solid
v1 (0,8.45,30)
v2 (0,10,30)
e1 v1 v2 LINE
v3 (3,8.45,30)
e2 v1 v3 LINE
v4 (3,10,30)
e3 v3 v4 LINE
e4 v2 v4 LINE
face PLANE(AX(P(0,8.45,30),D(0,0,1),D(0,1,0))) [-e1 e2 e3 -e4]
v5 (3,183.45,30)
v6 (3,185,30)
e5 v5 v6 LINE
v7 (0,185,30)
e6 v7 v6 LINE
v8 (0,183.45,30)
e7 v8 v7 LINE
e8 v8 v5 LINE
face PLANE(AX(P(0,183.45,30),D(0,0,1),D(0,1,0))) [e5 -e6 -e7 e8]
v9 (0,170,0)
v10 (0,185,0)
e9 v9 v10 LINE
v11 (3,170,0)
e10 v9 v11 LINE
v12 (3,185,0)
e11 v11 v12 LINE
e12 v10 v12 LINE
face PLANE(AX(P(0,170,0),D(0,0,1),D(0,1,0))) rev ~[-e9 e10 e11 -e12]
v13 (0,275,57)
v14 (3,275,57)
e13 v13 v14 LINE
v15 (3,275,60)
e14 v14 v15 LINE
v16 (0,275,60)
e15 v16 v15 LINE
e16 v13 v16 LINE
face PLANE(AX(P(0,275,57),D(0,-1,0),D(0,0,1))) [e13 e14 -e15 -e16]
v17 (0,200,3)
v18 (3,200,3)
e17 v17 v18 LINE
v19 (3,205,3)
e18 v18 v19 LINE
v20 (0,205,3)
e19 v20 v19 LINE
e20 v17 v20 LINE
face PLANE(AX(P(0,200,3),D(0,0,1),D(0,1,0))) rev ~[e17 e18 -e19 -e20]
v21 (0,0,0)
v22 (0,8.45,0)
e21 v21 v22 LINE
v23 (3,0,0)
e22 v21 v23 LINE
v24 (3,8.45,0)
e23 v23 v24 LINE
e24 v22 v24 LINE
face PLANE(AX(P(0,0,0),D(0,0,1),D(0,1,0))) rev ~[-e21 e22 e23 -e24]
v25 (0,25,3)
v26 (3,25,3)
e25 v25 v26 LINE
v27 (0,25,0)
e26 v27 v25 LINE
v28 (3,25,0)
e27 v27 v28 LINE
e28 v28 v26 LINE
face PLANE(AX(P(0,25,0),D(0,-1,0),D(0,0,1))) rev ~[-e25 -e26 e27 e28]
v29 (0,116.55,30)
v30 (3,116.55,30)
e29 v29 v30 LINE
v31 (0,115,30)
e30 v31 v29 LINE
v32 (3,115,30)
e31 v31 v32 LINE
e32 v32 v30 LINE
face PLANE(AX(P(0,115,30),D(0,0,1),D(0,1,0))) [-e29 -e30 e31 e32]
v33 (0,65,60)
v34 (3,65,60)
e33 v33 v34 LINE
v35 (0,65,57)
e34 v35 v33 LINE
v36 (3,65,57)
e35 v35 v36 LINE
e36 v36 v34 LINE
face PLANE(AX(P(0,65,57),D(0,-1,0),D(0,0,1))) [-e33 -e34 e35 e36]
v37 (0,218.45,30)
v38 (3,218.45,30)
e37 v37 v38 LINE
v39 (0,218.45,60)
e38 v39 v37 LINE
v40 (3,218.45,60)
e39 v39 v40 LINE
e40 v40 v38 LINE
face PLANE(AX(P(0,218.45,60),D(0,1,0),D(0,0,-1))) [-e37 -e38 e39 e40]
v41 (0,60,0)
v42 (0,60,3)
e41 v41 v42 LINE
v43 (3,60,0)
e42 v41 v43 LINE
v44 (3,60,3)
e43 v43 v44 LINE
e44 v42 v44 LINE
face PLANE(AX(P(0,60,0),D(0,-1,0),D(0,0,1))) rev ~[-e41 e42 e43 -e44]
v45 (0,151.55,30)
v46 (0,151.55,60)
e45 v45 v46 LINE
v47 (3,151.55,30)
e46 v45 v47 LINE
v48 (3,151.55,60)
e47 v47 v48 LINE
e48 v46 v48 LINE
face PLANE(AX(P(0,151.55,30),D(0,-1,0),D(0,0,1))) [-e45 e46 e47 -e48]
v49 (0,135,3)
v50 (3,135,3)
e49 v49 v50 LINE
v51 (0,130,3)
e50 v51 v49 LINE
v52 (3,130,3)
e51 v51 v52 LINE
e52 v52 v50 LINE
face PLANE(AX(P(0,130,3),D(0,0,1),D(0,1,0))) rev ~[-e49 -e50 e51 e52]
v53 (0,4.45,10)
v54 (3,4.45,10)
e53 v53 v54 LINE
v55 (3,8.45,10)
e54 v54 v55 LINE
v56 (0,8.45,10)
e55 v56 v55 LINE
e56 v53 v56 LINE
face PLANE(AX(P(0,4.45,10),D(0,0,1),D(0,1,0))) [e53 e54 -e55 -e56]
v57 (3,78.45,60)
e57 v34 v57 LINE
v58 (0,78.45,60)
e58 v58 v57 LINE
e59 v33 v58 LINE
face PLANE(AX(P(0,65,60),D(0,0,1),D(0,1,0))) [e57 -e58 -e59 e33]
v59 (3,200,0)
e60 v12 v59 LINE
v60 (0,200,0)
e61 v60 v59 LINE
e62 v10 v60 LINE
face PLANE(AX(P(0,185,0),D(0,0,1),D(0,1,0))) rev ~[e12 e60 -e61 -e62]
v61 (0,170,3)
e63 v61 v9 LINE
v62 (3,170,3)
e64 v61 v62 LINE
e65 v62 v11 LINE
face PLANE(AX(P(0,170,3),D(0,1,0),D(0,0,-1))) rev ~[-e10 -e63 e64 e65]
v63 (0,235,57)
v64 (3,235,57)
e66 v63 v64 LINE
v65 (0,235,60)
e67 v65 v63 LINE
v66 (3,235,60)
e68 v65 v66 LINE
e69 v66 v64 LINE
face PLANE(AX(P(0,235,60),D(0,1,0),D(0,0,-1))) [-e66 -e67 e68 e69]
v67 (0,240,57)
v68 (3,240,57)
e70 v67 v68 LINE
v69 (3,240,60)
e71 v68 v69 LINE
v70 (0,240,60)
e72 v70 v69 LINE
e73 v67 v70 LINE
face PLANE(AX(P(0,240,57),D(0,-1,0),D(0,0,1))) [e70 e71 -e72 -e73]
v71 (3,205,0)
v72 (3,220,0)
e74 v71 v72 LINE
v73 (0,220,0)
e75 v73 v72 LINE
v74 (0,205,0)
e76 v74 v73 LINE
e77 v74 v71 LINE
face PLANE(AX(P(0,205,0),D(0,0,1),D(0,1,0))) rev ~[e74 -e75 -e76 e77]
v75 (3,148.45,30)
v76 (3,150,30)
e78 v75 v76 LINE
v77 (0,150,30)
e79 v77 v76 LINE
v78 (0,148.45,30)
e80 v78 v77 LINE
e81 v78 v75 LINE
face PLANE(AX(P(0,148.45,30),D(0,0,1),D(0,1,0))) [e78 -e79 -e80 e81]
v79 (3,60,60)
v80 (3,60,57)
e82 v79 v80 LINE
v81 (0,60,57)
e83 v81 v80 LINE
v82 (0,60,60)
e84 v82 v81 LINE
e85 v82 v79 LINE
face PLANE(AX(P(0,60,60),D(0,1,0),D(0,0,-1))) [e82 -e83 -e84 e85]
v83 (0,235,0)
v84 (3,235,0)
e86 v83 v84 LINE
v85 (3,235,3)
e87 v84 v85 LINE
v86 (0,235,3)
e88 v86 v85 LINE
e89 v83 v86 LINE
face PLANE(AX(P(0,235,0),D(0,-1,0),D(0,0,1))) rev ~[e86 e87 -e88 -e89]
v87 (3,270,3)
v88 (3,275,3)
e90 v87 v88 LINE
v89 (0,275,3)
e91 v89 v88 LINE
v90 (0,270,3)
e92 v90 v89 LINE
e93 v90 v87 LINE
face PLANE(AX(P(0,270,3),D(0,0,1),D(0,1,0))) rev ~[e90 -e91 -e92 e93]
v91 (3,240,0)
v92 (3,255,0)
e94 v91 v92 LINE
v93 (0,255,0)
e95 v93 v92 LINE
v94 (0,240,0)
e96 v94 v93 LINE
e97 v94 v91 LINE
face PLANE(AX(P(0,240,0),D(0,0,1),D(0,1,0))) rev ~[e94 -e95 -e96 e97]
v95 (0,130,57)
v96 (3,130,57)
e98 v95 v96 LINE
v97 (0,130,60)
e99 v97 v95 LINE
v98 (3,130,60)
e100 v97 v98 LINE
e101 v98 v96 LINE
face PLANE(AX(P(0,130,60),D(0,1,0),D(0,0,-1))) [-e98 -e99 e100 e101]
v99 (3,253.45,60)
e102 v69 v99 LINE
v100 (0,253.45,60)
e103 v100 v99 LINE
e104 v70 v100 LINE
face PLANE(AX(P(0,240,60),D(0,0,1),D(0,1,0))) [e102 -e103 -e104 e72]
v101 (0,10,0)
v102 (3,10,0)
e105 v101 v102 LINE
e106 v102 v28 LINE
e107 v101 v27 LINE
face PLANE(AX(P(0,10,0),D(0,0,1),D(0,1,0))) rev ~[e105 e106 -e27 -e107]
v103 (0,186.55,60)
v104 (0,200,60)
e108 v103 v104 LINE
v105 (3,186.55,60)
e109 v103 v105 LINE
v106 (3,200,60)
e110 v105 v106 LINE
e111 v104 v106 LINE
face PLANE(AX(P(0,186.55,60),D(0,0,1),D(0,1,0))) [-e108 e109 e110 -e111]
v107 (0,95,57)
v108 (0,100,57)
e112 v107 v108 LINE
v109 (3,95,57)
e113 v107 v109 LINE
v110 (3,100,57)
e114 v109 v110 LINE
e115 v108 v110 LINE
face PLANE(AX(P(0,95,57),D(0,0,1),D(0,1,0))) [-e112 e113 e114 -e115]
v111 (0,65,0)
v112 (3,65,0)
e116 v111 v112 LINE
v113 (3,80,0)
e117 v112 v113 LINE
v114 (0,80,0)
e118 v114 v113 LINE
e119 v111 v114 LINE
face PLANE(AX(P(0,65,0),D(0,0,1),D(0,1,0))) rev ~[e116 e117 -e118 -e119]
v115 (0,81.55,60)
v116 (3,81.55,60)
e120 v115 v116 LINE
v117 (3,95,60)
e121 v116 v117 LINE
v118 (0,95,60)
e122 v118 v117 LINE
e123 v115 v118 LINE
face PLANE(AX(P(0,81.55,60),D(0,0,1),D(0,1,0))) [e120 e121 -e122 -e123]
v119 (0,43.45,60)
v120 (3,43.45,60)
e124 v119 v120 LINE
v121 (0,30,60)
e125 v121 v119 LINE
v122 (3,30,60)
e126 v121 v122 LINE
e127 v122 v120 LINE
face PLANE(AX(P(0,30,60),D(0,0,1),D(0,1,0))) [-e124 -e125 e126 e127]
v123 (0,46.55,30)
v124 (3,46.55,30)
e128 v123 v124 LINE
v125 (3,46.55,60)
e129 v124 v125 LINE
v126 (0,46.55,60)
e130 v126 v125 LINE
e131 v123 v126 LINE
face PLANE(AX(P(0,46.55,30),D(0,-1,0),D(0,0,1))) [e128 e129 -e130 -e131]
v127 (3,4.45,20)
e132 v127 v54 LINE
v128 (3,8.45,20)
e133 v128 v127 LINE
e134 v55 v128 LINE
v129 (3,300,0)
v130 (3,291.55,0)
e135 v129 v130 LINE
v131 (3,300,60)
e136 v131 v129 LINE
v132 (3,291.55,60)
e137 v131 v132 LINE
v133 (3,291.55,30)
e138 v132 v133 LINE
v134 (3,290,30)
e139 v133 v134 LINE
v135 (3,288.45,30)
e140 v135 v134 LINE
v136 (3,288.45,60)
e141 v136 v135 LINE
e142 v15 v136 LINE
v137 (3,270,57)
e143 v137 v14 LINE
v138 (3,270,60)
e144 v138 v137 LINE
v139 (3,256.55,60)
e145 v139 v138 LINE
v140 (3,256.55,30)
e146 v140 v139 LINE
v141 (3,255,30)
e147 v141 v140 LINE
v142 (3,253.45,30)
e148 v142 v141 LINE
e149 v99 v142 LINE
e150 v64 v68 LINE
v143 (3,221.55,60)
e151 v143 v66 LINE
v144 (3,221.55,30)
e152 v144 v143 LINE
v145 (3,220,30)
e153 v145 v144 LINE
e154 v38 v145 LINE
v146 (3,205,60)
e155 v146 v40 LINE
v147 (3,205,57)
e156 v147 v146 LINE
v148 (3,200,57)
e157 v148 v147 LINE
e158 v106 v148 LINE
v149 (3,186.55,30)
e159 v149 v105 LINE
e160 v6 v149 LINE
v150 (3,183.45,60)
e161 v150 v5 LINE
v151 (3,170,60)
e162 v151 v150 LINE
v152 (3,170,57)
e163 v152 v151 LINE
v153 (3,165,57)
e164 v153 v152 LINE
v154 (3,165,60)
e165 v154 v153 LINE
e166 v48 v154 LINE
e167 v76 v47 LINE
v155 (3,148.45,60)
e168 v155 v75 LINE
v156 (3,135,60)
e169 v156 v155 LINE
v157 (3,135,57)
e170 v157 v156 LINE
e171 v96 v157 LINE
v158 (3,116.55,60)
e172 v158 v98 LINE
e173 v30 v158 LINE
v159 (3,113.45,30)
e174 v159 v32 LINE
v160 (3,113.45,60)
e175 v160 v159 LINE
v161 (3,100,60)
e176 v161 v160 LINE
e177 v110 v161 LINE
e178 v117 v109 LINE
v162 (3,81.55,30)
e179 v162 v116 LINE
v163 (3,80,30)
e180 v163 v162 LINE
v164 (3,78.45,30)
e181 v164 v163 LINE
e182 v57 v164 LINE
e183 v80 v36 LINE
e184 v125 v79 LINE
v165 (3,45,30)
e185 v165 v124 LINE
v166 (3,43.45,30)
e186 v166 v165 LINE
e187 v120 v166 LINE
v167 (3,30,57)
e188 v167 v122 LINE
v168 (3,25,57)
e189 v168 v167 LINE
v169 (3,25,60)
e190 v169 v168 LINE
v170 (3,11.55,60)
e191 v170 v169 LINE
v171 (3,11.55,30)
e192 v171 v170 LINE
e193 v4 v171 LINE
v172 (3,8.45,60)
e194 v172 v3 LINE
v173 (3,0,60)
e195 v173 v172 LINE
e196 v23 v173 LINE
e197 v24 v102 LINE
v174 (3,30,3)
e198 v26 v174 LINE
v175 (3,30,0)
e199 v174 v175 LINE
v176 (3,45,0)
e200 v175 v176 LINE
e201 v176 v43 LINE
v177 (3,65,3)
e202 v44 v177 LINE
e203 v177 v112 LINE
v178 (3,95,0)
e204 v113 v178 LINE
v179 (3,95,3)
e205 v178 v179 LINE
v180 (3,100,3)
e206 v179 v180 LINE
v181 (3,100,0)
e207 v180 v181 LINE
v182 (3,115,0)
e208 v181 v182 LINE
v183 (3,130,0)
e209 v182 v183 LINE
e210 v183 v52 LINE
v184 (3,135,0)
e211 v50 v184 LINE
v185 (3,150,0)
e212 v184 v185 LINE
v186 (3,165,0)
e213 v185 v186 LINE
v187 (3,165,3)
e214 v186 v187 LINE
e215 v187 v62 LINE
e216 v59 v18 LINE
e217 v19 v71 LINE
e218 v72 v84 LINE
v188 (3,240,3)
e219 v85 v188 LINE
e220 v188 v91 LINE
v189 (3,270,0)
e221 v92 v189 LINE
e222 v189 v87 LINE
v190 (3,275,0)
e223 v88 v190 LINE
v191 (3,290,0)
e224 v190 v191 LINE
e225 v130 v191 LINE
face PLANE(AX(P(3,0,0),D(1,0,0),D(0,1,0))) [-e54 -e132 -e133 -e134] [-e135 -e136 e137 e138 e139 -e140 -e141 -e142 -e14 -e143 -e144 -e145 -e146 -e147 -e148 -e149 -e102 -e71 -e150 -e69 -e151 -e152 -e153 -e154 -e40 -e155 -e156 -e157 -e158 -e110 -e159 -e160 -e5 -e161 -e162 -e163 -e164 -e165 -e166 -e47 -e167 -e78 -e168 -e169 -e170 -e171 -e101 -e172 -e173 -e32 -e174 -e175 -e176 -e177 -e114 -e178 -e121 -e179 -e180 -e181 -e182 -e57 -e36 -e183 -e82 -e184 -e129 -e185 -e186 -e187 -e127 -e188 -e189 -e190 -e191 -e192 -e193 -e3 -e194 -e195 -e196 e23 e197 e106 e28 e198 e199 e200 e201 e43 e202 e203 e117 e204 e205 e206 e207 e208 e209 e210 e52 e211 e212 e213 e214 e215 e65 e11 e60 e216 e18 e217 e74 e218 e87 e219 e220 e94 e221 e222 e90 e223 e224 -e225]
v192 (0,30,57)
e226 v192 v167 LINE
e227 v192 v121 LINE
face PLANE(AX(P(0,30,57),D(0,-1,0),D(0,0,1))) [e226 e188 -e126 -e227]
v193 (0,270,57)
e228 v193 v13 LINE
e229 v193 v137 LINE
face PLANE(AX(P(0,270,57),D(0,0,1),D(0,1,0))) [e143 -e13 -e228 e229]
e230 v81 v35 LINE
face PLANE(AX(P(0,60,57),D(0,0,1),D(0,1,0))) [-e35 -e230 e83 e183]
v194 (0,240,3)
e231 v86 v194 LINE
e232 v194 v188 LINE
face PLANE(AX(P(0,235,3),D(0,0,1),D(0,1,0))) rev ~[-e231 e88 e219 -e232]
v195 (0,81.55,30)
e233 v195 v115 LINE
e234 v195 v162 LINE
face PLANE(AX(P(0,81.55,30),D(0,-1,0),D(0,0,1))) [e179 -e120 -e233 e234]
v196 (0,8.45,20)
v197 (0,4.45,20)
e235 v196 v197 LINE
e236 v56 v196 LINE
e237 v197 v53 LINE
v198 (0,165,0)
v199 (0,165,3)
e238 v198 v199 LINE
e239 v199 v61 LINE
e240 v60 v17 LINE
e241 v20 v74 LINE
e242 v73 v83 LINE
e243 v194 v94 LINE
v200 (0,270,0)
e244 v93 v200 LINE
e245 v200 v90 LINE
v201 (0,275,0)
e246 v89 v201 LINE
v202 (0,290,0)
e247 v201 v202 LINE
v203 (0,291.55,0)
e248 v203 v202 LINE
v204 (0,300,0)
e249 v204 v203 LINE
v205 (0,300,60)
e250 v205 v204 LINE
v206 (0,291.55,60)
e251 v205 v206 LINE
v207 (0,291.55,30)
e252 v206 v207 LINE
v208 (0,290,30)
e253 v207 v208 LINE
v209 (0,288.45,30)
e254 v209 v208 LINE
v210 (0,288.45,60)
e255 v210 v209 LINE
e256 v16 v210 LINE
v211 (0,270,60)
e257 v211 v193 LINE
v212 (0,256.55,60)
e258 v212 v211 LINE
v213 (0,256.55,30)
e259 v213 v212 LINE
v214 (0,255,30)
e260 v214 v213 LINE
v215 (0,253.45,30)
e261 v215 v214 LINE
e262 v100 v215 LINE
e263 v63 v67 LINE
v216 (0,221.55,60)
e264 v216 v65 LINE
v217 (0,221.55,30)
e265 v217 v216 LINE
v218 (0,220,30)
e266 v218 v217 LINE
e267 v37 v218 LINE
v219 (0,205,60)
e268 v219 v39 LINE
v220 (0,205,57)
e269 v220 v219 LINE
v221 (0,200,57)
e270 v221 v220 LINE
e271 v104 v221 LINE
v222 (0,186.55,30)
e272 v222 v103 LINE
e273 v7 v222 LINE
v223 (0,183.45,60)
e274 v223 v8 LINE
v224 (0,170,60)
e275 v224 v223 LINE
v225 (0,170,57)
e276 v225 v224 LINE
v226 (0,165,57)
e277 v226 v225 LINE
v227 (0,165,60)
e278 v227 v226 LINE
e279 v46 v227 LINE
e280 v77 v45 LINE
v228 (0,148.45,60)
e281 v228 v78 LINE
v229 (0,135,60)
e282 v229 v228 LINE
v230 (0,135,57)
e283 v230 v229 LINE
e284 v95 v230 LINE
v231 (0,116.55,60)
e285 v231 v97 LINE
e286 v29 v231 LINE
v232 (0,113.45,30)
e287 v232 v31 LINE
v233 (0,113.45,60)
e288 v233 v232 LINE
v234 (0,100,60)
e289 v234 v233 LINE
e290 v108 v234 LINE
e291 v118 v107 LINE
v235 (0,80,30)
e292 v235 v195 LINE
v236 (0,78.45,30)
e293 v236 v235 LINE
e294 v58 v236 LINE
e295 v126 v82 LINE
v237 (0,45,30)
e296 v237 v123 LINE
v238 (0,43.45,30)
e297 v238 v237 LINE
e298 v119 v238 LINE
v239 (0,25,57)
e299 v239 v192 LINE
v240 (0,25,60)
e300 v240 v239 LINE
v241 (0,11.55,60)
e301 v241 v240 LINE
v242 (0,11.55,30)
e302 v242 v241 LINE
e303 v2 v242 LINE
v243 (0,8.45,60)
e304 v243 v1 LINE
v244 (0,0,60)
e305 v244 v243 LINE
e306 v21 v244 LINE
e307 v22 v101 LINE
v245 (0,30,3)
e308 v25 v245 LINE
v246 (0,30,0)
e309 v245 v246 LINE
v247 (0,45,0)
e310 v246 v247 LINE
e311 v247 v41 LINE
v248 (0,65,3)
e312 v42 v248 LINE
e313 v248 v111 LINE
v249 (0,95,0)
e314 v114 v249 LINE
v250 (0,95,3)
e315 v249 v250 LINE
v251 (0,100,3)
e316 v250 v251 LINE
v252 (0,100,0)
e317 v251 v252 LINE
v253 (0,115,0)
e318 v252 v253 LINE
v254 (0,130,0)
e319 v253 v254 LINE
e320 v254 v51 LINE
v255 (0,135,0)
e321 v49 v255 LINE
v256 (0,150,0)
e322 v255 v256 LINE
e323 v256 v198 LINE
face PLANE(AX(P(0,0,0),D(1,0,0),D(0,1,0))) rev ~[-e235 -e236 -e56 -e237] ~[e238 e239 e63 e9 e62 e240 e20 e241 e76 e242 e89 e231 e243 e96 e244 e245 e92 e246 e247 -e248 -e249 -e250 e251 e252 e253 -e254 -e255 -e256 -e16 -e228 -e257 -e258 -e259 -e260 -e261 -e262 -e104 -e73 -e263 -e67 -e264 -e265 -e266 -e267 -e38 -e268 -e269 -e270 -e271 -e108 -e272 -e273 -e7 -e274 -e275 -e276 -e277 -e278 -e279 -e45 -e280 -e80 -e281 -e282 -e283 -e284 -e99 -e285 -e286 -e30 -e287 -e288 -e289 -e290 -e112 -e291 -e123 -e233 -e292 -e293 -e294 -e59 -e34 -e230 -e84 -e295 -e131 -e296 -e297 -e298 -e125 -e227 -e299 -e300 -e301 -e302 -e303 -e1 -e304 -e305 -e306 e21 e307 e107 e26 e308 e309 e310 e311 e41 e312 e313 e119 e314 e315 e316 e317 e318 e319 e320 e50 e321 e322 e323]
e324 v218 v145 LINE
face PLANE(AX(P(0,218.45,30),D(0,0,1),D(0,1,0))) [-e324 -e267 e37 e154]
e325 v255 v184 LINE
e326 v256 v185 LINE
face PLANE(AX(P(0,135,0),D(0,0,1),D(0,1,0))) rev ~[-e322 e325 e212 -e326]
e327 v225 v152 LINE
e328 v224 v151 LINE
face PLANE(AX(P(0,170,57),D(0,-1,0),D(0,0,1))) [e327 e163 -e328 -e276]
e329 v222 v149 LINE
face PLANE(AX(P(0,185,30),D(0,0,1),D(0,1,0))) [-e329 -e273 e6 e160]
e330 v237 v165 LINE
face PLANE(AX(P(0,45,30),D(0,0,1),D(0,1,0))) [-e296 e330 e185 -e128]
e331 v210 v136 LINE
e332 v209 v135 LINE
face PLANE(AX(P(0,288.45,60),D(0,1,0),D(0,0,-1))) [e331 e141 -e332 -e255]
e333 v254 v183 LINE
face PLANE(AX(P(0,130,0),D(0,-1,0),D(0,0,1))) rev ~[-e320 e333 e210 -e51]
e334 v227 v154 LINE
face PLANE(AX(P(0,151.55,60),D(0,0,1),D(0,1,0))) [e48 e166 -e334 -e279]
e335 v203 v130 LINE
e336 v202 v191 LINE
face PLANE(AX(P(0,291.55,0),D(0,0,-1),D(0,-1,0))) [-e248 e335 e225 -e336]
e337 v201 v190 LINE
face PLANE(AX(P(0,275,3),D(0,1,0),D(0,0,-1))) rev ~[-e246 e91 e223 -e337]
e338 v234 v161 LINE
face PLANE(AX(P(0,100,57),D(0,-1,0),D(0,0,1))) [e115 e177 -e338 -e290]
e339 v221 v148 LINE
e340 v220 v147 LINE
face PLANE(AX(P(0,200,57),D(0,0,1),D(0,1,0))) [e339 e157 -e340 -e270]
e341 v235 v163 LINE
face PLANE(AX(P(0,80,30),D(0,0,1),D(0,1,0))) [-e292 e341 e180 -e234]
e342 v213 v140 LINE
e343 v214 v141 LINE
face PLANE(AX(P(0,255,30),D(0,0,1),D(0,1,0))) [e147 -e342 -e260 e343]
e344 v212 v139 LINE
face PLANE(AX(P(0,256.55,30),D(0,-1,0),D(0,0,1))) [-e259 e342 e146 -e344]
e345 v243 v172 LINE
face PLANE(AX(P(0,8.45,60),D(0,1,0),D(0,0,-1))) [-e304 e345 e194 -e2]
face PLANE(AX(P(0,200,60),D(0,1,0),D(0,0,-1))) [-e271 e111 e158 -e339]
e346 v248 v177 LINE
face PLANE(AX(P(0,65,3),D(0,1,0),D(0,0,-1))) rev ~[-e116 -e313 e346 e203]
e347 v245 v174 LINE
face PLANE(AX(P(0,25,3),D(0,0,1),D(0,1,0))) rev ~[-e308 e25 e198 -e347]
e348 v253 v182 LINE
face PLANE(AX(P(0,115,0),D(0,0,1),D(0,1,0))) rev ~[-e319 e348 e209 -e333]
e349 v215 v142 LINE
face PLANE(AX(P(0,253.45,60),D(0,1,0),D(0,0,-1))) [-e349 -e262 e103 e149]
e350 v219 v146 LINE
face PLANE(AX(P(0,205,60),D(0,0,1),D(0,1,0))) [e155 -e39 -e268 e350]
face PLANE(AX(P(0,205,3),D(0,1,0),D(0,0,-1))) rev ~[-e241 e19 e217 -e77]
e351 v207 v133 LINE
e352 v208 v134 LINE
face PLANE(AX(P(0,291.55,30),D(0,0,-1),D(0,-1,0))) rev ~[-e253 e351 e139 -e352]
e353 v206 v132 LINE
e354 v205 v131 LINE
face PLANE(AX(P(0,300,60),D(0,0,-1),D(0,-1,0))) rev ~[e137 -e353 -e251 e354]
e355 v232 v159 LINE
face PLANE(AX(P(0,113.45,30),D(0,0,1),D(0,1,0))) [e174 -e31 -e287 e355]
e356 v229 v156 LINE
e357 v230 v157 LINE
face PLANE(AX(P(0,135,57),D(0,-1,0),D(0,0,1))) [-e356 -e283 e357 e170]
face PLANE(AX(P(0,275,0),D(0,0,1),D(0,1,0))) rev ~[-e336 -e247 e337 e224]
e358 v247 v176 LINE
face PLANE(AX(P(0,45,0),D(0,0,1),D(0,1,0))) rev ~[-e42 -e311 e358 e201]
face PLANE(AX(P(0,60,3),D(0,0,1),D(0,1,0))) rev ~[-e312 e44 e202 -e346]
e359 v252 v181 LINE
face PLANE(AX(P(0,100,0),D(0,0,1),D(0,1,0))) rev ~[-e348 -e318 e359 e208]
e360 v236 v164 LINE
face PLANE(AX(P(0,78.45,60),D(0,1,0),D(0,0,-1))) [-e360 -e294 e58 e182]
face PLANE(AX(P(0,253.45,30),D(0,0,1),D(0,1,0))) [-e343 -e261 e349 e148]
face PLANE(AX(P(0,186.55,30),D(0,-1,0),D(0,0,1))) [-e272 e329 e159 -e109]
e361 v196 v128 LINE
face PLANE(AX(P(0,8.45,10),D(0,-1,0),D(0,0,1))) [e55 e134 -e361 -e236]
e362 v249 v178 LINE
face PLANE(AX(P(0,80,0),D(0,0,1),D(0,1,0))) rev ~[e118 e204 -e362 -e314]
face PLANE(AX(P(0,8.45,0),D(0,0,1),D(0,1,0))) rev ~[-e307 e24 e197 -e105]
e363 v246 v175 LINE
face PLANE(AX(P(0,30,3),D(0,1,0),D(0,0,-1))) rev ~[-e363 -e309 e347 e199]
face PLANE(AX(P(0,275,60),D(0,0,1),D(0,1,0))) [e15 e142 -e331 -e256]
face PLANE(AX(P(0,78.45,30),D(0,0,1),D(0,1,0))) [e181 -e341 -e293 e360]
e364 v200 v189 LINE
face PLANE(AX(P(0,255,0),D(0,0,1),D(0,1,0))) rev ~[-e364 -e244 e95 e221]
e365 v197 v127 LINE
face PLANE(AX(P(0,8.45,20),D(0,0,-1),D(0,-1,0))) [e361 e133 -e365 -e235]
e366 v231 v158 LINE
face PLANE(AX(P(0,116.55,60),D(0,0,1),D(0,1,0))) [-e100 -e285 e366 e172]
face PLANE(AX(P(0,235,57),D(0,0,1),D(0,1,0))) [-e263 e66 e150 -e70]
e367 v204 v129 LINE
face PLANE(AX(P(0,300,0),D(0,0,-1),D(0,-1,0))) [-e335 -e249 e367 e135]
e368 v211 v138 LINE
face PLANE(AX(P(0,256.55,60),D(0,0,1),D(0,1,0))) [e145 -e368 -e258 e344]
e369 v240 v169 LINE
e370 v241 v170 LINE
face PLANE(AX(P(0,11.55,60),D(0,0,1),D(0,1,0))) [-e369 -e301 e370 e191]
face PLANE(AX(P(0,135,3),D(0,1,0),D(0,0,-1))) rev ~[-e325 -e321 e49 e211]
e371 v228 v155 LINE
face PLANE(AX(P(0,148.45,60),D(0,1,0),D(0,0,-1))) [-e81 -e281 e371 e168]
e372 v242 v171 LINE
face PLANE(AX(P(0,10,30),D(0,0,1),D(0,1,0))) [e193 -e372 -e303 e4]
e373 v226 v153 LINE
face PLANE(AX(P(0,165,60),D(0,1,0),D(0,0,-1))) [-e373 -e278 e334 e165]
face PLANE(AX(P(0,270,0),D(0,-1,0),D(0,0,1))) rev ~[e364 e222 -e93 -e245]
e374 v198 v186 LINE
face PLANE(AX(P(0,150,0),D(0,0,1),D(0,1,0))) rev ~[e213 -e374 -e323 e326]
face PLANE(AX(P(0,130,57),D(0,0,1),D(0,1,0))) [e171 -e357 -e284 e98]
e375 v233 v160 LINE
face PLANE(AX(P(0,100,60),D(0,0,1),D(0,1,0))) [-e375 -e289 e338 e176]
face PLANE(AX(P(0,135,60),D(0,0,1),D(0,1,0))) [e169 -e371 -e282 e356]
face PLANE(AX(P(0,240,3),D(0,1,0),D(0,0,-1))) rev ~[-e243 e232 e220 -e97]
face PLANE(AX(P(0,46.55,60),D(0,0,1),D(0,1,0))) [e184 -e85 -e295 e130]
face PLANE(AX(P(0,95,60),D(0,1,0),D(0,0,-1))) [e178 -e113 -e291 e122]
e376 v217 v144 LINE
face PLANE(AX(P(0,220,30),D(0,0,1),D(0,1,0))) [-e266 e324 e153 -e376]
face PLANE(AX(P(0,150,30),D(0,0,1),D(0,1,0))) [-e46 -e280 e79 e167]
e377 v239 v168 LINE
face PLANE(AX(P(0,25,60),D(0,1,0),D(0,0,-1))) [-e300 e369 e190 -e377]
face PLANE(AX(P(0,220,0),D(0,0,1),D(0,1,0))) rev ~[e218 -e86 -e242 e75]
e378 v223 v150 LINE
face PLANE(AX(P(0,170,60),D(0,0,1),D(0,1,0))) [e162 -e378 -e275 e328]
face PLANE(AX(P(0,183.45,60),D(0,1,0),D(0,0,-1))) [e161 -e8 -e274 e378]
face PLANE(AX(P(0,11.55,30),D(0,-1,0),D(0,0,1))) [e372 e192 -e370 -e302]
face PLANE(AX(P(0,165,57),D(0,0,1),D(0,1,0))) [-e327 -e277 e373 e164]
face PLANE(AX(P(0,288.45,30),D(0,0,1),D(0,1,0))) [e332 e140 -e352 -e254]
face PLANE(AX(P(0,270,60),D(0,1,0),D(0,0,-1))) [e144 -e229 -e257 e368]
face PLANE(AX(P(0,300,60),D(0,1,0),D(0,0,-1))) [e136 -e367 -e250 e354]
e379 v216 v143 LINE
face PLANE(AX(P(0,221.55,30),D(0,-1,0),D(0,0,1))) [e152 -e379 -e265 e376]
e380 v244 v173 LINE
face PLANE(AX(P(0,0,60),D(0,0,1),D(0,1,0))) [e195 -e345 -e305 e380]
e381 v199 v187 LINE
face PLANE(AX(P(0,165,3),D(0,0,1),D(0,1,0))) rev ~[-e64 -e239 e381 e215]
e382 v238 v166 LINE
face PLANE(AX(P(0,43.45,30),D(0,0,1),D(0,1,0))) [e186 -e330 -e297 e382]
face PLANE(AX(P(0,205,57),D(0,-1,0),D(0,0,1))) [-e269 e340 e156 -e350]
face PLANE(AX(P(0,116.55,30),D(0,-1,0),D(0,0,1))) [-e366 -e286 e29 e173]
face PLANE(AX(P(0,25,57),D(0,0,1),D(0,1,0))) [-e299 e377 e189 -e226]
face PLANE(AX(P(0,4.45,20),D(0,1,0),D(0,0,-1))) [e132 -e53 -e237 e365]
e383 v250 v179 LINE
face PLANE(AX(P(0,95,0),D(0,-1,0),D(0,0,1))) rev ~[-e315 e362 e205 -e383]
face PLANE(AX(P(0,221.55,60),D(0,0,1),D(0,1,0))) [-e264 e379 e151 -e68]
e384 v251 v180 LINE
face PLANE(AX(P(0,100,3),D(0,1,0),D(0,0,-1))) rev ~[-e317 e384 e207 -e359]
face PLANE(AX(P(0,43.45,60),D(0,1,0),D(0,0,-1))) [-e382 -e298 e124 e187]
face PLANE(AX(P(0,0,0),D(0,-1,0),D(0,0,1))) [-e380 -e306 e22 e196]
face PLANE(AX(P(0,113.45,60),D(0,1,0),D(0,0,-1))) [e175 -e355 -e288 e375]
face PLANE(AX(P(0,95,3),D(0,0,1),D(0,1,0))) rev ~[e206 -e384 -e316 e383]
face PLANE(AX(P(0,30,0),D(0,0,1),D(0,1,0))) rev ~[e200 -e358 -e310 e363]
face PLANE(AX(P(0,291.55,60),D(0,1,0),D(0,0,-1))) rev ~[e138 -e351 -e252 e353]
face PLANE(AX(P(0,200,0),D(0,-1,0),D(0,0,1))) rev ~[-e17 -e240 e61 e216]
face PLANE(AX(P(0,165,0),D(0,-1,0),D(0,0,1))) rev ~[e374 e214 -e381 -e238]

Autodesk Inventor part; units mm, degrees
ref_plane "YZ Plane" through (0, 0, 0) normal (1, 0, 0) x (0, 1, 0)
ref_plane "XZ Plane" through (0, 0, 0) normal (0, 1, 0) x (-1, 0, 0)
ref_plane "XY Plane" through (0, 0, 0) normal (0, 0, 1) x (1, 0, 0)
sketch "Sketch1" plane through (0, 0, 0) normal (1, 0, 0) x (0, 1, 0)
  line L0 (8.45, 60) -> (8.45, 30)
  line L1 (8.45, 30) -> (10, 30)
  line L2 (10, 30) -> (11.55, 30)
  line L3 (11.55, 30) -> (11.55, 60)
  line L4 (11.55, 60) -> (25, 60)
  line L5 (25, 60) -> (25, 57)
  line L6 (25, 57) -> (30, 57)
  line L7 (30, 57) -> (30, 60)
  line L8 (30, 60) -> (43.45, 60)
  line L9 (43.45, 60) -> (43.45, 30)
  line L10 (43.45, 30) -> (45, 30)
  line L11 (10, 0) -> (25, 0)
  line L12 (25, 0) -> (25, 3)
  line L13 (25, 3) -> (30, 3)
  line L14 (30, 3) -> (30, 0)
  line L15 (30, 0) -> (45, 0)
  line L16 (45, 30) -> (46.55, 30)
  line L17 (46.55, 30) -> (46.55, 60)
  line L18 (46.55, 60) -> (60, 60)
  line L19 (60, 57) -> (65, 57)
  line L20 (60, 60) -> (60, 57)
  line L21 (65, 57) -> (65, 60)
  line L22 (65, 60) -> (78.45, 60)
  line L23 (78.45, 60) -> (78.45, 30)
  line L24 (78.45, 30) -> (80, 30)
  line L25 (65, 0) -> (80, 0)
  line L26 (60, 3) -> (65, 3)
  line L27 (65, 3) -> (65, 0)
  line L28 (60, 0) -> (60, 3)
  line L29 (45, 0) -> (60, 0)
  line L30 (80, 30) -> (81.55, 30)
  line L31 (81.55, 30) -> (81.55, 60)
  line L32 (81.55, 60) -> (95, 60)
  line L33 (95, 57) -> (100, 57)
  line L34 (95, 60) -> (95, 57)
  line L35 (100, 57) -> (100, 60)
  line L36 (100, 60) -> (113.45, 60)
  line L37 (113.45, 60) -> (113.45, 30)
  line L38 (113.45, 30) -> (115, 30)
  line L39 (100, 0) -> (115, 0)
  line L40 (95, 3) -> (100, 3)
  line L41 (100, 3) -> (100, 0)
  line L42 (95, 0) -> (95, 3)
  line L43 (80, 0) -> (95, 0)
  line L44 (115, 30) -> (116.55, 30)
  line L45 (116.55, 30) -> (116.55, 60)
  line L46 (116.55, 60) -> (130, 60)
  line L47 (130, 57) -> (135, 57)
  line L48 (130, 60) -> (130, 57)
  line L49 (135, 57) -> (135, 60)
  line L50 (135, 60) -> (148.45, 60)
  line L51 (148.45, 60) -> (148.45, 30)
  line L52 (148.45, 30) -> (150, 30)
  line L53 (135, 0) -> (150, 0)
  line L54 (130, 3) -> (135, 3)
  line L55 (135, 3) -> (135, 0)
  line L56 (130, 0) -> (130, 3)
  line L57 (115, 0) -> (130, 0)
  line L58 (150, 30) -> (151.55, 30)
  line L59 (151.55, 30) -> (151.55, 60)
  line L60 (151.55, 60) -> (165, 60)
  line L61 (165, 57) -> (170, 57)
  line L62 (165, 60) -> (165, 57)
  line L63 (170, 57) -> (170, 60)
  line L64 (170, 60) -> (183.45, 60)
  line L65 (183.45, 60) -> (183.45, 30)
  line L66 (183.45, 30) -> (185, 30)
  line L67 (170, 0) -> (185, 0)
  line L68 (165, 3) -> (170, 3)
  line L69 (170, 3) -> (170, 0)
  line L70 (165, 0) -> (165, 3)
  line L71 (150, 0) -> (165, 0)
  line L72 (185, 30) -> (186.55, 30)
  line L73 (186.55, 30) -> (186.55, 60)
  line L74 (186.55, 60) -> (200, 60)
  line L75 (200, 57) -> (205, 57)
  line L76 (200, 60) -> (200, 57)
  line L77 (205, 57) -> (205, 60)
  line L78 (205, 60) -> (218.45, 60)
  line L79 (218.45, 60) -> (218.45, 30)
  line L80 (218.45, 30) -> (220, 30)
  line L81 (205, 0) -> (220, 0)
  line L82 (200, 3) -> (205, 3)
  line L83 (205, 3) -> (205, 0)
  line L84 (200, 0) -> (200, 3)
  line L85 (185, 0) -> (200, 0)
  line L86 (220, 30) -> (221.55, 30)
  line L87 (221.55, 30) -> (221.55, 60)
  line L88 (221.55, 60) -> (235, 60)
  line L89 (235, 57) -> (240, 57)
  line L90 (235, 60) -> (235, 57)
  line L91 (240, 57) -> (240, 60)
  line L92 (240, 60) -> (253.45, 60)
  line L93 (253.45, 60) -> (253.45, 30)
  line L94 (253.45, 30) -> (255, 30)
  line L95 (240, 0) -> (255, 0)
  line L96 (235, 3) -> (240, 3)
  line L97 (240, 3) -> (240, 0)
  line L98 (235, 0) -> (235, 3)
  line L99 (220, 0) -> (235, 0)
  line L100 (255, 30) -> (256.55, 30)
  line L101 (256.55, 30) -> (256.55, 60)
  line L102 (256.55, 60) -> (270, 60)
  line L103 (270, 57) -> (275, 57)
  line L104 (270, 60) -> (270, 57)
  line L105 (275, 57) -> (275, 60)
  line L106 (275, 60) -> (288.45, 60)
  line L107 (288.45, 60) -> (288.45, 30)
  line L108 (288.45, 30) -> (290, 30)
  line L109 (275, 0) -> (290, 0)
  line L110 (270, 3) -> (275, 3)
  line L111 (275, 3) -> (275, 0)
  line L112 (270, 0) -> (270, 3)
  line L113 (255, 0) -> (270, 0)
  line L114 (150, 0) -> (150, 30) construction
  line L115 (8.45, 0) -> (10, 0)
  line L116 (0, 60) -> (8.45, 60)
  line L117 (0, 0) -> (10, 0)
  line L118 (300, 60) -> (300, 0)
  line L119 (291.55, 60) -> (291.55, 30)
  line L120 (291.55, 30) -> (290, 30)
  line L121 (291.55, 0) -> (290, 0)
  line L122 (300, 60) -> (291.55, 60)
  line L123 (300, 0) -> (290, 0)
  line L124 (0, 0) -> (0, 60)
  line L125 (4.45, 10) -> (8.45, 10)
  line L126 (8.45, 10) -> (8.45, 20)
  line L127 (8.45, 20) -> (4.45, 20)
  line L128 (4.45, 20) -> (4.45, 10)
  point P0 (9.225, 30)
  point P1 (290.775, 30)
  point P2 (300, 0)
  dimension "d36" = 1.55
  dimension "d37" = 1.55
  dimension "d39" = 5
  dimension "d41" = 1.55
  dimension "d42" = 35
  dimension "d43" = 5
  dimension "d45" = 3
  dimension "d46" = 35
  dimension "d51" = 35
  dimension "d61" = 30
  dimension "d62" = 60
  dimension "d63" = 3
  dimension "d69" = 8.45
  dimension "d74" = 10
  dimension "d75" = 4
  dimension "d76" = 10
extrude "Extrusion1" add sketch "Sketch1" along normal blind 3
properties part number "Separators"
